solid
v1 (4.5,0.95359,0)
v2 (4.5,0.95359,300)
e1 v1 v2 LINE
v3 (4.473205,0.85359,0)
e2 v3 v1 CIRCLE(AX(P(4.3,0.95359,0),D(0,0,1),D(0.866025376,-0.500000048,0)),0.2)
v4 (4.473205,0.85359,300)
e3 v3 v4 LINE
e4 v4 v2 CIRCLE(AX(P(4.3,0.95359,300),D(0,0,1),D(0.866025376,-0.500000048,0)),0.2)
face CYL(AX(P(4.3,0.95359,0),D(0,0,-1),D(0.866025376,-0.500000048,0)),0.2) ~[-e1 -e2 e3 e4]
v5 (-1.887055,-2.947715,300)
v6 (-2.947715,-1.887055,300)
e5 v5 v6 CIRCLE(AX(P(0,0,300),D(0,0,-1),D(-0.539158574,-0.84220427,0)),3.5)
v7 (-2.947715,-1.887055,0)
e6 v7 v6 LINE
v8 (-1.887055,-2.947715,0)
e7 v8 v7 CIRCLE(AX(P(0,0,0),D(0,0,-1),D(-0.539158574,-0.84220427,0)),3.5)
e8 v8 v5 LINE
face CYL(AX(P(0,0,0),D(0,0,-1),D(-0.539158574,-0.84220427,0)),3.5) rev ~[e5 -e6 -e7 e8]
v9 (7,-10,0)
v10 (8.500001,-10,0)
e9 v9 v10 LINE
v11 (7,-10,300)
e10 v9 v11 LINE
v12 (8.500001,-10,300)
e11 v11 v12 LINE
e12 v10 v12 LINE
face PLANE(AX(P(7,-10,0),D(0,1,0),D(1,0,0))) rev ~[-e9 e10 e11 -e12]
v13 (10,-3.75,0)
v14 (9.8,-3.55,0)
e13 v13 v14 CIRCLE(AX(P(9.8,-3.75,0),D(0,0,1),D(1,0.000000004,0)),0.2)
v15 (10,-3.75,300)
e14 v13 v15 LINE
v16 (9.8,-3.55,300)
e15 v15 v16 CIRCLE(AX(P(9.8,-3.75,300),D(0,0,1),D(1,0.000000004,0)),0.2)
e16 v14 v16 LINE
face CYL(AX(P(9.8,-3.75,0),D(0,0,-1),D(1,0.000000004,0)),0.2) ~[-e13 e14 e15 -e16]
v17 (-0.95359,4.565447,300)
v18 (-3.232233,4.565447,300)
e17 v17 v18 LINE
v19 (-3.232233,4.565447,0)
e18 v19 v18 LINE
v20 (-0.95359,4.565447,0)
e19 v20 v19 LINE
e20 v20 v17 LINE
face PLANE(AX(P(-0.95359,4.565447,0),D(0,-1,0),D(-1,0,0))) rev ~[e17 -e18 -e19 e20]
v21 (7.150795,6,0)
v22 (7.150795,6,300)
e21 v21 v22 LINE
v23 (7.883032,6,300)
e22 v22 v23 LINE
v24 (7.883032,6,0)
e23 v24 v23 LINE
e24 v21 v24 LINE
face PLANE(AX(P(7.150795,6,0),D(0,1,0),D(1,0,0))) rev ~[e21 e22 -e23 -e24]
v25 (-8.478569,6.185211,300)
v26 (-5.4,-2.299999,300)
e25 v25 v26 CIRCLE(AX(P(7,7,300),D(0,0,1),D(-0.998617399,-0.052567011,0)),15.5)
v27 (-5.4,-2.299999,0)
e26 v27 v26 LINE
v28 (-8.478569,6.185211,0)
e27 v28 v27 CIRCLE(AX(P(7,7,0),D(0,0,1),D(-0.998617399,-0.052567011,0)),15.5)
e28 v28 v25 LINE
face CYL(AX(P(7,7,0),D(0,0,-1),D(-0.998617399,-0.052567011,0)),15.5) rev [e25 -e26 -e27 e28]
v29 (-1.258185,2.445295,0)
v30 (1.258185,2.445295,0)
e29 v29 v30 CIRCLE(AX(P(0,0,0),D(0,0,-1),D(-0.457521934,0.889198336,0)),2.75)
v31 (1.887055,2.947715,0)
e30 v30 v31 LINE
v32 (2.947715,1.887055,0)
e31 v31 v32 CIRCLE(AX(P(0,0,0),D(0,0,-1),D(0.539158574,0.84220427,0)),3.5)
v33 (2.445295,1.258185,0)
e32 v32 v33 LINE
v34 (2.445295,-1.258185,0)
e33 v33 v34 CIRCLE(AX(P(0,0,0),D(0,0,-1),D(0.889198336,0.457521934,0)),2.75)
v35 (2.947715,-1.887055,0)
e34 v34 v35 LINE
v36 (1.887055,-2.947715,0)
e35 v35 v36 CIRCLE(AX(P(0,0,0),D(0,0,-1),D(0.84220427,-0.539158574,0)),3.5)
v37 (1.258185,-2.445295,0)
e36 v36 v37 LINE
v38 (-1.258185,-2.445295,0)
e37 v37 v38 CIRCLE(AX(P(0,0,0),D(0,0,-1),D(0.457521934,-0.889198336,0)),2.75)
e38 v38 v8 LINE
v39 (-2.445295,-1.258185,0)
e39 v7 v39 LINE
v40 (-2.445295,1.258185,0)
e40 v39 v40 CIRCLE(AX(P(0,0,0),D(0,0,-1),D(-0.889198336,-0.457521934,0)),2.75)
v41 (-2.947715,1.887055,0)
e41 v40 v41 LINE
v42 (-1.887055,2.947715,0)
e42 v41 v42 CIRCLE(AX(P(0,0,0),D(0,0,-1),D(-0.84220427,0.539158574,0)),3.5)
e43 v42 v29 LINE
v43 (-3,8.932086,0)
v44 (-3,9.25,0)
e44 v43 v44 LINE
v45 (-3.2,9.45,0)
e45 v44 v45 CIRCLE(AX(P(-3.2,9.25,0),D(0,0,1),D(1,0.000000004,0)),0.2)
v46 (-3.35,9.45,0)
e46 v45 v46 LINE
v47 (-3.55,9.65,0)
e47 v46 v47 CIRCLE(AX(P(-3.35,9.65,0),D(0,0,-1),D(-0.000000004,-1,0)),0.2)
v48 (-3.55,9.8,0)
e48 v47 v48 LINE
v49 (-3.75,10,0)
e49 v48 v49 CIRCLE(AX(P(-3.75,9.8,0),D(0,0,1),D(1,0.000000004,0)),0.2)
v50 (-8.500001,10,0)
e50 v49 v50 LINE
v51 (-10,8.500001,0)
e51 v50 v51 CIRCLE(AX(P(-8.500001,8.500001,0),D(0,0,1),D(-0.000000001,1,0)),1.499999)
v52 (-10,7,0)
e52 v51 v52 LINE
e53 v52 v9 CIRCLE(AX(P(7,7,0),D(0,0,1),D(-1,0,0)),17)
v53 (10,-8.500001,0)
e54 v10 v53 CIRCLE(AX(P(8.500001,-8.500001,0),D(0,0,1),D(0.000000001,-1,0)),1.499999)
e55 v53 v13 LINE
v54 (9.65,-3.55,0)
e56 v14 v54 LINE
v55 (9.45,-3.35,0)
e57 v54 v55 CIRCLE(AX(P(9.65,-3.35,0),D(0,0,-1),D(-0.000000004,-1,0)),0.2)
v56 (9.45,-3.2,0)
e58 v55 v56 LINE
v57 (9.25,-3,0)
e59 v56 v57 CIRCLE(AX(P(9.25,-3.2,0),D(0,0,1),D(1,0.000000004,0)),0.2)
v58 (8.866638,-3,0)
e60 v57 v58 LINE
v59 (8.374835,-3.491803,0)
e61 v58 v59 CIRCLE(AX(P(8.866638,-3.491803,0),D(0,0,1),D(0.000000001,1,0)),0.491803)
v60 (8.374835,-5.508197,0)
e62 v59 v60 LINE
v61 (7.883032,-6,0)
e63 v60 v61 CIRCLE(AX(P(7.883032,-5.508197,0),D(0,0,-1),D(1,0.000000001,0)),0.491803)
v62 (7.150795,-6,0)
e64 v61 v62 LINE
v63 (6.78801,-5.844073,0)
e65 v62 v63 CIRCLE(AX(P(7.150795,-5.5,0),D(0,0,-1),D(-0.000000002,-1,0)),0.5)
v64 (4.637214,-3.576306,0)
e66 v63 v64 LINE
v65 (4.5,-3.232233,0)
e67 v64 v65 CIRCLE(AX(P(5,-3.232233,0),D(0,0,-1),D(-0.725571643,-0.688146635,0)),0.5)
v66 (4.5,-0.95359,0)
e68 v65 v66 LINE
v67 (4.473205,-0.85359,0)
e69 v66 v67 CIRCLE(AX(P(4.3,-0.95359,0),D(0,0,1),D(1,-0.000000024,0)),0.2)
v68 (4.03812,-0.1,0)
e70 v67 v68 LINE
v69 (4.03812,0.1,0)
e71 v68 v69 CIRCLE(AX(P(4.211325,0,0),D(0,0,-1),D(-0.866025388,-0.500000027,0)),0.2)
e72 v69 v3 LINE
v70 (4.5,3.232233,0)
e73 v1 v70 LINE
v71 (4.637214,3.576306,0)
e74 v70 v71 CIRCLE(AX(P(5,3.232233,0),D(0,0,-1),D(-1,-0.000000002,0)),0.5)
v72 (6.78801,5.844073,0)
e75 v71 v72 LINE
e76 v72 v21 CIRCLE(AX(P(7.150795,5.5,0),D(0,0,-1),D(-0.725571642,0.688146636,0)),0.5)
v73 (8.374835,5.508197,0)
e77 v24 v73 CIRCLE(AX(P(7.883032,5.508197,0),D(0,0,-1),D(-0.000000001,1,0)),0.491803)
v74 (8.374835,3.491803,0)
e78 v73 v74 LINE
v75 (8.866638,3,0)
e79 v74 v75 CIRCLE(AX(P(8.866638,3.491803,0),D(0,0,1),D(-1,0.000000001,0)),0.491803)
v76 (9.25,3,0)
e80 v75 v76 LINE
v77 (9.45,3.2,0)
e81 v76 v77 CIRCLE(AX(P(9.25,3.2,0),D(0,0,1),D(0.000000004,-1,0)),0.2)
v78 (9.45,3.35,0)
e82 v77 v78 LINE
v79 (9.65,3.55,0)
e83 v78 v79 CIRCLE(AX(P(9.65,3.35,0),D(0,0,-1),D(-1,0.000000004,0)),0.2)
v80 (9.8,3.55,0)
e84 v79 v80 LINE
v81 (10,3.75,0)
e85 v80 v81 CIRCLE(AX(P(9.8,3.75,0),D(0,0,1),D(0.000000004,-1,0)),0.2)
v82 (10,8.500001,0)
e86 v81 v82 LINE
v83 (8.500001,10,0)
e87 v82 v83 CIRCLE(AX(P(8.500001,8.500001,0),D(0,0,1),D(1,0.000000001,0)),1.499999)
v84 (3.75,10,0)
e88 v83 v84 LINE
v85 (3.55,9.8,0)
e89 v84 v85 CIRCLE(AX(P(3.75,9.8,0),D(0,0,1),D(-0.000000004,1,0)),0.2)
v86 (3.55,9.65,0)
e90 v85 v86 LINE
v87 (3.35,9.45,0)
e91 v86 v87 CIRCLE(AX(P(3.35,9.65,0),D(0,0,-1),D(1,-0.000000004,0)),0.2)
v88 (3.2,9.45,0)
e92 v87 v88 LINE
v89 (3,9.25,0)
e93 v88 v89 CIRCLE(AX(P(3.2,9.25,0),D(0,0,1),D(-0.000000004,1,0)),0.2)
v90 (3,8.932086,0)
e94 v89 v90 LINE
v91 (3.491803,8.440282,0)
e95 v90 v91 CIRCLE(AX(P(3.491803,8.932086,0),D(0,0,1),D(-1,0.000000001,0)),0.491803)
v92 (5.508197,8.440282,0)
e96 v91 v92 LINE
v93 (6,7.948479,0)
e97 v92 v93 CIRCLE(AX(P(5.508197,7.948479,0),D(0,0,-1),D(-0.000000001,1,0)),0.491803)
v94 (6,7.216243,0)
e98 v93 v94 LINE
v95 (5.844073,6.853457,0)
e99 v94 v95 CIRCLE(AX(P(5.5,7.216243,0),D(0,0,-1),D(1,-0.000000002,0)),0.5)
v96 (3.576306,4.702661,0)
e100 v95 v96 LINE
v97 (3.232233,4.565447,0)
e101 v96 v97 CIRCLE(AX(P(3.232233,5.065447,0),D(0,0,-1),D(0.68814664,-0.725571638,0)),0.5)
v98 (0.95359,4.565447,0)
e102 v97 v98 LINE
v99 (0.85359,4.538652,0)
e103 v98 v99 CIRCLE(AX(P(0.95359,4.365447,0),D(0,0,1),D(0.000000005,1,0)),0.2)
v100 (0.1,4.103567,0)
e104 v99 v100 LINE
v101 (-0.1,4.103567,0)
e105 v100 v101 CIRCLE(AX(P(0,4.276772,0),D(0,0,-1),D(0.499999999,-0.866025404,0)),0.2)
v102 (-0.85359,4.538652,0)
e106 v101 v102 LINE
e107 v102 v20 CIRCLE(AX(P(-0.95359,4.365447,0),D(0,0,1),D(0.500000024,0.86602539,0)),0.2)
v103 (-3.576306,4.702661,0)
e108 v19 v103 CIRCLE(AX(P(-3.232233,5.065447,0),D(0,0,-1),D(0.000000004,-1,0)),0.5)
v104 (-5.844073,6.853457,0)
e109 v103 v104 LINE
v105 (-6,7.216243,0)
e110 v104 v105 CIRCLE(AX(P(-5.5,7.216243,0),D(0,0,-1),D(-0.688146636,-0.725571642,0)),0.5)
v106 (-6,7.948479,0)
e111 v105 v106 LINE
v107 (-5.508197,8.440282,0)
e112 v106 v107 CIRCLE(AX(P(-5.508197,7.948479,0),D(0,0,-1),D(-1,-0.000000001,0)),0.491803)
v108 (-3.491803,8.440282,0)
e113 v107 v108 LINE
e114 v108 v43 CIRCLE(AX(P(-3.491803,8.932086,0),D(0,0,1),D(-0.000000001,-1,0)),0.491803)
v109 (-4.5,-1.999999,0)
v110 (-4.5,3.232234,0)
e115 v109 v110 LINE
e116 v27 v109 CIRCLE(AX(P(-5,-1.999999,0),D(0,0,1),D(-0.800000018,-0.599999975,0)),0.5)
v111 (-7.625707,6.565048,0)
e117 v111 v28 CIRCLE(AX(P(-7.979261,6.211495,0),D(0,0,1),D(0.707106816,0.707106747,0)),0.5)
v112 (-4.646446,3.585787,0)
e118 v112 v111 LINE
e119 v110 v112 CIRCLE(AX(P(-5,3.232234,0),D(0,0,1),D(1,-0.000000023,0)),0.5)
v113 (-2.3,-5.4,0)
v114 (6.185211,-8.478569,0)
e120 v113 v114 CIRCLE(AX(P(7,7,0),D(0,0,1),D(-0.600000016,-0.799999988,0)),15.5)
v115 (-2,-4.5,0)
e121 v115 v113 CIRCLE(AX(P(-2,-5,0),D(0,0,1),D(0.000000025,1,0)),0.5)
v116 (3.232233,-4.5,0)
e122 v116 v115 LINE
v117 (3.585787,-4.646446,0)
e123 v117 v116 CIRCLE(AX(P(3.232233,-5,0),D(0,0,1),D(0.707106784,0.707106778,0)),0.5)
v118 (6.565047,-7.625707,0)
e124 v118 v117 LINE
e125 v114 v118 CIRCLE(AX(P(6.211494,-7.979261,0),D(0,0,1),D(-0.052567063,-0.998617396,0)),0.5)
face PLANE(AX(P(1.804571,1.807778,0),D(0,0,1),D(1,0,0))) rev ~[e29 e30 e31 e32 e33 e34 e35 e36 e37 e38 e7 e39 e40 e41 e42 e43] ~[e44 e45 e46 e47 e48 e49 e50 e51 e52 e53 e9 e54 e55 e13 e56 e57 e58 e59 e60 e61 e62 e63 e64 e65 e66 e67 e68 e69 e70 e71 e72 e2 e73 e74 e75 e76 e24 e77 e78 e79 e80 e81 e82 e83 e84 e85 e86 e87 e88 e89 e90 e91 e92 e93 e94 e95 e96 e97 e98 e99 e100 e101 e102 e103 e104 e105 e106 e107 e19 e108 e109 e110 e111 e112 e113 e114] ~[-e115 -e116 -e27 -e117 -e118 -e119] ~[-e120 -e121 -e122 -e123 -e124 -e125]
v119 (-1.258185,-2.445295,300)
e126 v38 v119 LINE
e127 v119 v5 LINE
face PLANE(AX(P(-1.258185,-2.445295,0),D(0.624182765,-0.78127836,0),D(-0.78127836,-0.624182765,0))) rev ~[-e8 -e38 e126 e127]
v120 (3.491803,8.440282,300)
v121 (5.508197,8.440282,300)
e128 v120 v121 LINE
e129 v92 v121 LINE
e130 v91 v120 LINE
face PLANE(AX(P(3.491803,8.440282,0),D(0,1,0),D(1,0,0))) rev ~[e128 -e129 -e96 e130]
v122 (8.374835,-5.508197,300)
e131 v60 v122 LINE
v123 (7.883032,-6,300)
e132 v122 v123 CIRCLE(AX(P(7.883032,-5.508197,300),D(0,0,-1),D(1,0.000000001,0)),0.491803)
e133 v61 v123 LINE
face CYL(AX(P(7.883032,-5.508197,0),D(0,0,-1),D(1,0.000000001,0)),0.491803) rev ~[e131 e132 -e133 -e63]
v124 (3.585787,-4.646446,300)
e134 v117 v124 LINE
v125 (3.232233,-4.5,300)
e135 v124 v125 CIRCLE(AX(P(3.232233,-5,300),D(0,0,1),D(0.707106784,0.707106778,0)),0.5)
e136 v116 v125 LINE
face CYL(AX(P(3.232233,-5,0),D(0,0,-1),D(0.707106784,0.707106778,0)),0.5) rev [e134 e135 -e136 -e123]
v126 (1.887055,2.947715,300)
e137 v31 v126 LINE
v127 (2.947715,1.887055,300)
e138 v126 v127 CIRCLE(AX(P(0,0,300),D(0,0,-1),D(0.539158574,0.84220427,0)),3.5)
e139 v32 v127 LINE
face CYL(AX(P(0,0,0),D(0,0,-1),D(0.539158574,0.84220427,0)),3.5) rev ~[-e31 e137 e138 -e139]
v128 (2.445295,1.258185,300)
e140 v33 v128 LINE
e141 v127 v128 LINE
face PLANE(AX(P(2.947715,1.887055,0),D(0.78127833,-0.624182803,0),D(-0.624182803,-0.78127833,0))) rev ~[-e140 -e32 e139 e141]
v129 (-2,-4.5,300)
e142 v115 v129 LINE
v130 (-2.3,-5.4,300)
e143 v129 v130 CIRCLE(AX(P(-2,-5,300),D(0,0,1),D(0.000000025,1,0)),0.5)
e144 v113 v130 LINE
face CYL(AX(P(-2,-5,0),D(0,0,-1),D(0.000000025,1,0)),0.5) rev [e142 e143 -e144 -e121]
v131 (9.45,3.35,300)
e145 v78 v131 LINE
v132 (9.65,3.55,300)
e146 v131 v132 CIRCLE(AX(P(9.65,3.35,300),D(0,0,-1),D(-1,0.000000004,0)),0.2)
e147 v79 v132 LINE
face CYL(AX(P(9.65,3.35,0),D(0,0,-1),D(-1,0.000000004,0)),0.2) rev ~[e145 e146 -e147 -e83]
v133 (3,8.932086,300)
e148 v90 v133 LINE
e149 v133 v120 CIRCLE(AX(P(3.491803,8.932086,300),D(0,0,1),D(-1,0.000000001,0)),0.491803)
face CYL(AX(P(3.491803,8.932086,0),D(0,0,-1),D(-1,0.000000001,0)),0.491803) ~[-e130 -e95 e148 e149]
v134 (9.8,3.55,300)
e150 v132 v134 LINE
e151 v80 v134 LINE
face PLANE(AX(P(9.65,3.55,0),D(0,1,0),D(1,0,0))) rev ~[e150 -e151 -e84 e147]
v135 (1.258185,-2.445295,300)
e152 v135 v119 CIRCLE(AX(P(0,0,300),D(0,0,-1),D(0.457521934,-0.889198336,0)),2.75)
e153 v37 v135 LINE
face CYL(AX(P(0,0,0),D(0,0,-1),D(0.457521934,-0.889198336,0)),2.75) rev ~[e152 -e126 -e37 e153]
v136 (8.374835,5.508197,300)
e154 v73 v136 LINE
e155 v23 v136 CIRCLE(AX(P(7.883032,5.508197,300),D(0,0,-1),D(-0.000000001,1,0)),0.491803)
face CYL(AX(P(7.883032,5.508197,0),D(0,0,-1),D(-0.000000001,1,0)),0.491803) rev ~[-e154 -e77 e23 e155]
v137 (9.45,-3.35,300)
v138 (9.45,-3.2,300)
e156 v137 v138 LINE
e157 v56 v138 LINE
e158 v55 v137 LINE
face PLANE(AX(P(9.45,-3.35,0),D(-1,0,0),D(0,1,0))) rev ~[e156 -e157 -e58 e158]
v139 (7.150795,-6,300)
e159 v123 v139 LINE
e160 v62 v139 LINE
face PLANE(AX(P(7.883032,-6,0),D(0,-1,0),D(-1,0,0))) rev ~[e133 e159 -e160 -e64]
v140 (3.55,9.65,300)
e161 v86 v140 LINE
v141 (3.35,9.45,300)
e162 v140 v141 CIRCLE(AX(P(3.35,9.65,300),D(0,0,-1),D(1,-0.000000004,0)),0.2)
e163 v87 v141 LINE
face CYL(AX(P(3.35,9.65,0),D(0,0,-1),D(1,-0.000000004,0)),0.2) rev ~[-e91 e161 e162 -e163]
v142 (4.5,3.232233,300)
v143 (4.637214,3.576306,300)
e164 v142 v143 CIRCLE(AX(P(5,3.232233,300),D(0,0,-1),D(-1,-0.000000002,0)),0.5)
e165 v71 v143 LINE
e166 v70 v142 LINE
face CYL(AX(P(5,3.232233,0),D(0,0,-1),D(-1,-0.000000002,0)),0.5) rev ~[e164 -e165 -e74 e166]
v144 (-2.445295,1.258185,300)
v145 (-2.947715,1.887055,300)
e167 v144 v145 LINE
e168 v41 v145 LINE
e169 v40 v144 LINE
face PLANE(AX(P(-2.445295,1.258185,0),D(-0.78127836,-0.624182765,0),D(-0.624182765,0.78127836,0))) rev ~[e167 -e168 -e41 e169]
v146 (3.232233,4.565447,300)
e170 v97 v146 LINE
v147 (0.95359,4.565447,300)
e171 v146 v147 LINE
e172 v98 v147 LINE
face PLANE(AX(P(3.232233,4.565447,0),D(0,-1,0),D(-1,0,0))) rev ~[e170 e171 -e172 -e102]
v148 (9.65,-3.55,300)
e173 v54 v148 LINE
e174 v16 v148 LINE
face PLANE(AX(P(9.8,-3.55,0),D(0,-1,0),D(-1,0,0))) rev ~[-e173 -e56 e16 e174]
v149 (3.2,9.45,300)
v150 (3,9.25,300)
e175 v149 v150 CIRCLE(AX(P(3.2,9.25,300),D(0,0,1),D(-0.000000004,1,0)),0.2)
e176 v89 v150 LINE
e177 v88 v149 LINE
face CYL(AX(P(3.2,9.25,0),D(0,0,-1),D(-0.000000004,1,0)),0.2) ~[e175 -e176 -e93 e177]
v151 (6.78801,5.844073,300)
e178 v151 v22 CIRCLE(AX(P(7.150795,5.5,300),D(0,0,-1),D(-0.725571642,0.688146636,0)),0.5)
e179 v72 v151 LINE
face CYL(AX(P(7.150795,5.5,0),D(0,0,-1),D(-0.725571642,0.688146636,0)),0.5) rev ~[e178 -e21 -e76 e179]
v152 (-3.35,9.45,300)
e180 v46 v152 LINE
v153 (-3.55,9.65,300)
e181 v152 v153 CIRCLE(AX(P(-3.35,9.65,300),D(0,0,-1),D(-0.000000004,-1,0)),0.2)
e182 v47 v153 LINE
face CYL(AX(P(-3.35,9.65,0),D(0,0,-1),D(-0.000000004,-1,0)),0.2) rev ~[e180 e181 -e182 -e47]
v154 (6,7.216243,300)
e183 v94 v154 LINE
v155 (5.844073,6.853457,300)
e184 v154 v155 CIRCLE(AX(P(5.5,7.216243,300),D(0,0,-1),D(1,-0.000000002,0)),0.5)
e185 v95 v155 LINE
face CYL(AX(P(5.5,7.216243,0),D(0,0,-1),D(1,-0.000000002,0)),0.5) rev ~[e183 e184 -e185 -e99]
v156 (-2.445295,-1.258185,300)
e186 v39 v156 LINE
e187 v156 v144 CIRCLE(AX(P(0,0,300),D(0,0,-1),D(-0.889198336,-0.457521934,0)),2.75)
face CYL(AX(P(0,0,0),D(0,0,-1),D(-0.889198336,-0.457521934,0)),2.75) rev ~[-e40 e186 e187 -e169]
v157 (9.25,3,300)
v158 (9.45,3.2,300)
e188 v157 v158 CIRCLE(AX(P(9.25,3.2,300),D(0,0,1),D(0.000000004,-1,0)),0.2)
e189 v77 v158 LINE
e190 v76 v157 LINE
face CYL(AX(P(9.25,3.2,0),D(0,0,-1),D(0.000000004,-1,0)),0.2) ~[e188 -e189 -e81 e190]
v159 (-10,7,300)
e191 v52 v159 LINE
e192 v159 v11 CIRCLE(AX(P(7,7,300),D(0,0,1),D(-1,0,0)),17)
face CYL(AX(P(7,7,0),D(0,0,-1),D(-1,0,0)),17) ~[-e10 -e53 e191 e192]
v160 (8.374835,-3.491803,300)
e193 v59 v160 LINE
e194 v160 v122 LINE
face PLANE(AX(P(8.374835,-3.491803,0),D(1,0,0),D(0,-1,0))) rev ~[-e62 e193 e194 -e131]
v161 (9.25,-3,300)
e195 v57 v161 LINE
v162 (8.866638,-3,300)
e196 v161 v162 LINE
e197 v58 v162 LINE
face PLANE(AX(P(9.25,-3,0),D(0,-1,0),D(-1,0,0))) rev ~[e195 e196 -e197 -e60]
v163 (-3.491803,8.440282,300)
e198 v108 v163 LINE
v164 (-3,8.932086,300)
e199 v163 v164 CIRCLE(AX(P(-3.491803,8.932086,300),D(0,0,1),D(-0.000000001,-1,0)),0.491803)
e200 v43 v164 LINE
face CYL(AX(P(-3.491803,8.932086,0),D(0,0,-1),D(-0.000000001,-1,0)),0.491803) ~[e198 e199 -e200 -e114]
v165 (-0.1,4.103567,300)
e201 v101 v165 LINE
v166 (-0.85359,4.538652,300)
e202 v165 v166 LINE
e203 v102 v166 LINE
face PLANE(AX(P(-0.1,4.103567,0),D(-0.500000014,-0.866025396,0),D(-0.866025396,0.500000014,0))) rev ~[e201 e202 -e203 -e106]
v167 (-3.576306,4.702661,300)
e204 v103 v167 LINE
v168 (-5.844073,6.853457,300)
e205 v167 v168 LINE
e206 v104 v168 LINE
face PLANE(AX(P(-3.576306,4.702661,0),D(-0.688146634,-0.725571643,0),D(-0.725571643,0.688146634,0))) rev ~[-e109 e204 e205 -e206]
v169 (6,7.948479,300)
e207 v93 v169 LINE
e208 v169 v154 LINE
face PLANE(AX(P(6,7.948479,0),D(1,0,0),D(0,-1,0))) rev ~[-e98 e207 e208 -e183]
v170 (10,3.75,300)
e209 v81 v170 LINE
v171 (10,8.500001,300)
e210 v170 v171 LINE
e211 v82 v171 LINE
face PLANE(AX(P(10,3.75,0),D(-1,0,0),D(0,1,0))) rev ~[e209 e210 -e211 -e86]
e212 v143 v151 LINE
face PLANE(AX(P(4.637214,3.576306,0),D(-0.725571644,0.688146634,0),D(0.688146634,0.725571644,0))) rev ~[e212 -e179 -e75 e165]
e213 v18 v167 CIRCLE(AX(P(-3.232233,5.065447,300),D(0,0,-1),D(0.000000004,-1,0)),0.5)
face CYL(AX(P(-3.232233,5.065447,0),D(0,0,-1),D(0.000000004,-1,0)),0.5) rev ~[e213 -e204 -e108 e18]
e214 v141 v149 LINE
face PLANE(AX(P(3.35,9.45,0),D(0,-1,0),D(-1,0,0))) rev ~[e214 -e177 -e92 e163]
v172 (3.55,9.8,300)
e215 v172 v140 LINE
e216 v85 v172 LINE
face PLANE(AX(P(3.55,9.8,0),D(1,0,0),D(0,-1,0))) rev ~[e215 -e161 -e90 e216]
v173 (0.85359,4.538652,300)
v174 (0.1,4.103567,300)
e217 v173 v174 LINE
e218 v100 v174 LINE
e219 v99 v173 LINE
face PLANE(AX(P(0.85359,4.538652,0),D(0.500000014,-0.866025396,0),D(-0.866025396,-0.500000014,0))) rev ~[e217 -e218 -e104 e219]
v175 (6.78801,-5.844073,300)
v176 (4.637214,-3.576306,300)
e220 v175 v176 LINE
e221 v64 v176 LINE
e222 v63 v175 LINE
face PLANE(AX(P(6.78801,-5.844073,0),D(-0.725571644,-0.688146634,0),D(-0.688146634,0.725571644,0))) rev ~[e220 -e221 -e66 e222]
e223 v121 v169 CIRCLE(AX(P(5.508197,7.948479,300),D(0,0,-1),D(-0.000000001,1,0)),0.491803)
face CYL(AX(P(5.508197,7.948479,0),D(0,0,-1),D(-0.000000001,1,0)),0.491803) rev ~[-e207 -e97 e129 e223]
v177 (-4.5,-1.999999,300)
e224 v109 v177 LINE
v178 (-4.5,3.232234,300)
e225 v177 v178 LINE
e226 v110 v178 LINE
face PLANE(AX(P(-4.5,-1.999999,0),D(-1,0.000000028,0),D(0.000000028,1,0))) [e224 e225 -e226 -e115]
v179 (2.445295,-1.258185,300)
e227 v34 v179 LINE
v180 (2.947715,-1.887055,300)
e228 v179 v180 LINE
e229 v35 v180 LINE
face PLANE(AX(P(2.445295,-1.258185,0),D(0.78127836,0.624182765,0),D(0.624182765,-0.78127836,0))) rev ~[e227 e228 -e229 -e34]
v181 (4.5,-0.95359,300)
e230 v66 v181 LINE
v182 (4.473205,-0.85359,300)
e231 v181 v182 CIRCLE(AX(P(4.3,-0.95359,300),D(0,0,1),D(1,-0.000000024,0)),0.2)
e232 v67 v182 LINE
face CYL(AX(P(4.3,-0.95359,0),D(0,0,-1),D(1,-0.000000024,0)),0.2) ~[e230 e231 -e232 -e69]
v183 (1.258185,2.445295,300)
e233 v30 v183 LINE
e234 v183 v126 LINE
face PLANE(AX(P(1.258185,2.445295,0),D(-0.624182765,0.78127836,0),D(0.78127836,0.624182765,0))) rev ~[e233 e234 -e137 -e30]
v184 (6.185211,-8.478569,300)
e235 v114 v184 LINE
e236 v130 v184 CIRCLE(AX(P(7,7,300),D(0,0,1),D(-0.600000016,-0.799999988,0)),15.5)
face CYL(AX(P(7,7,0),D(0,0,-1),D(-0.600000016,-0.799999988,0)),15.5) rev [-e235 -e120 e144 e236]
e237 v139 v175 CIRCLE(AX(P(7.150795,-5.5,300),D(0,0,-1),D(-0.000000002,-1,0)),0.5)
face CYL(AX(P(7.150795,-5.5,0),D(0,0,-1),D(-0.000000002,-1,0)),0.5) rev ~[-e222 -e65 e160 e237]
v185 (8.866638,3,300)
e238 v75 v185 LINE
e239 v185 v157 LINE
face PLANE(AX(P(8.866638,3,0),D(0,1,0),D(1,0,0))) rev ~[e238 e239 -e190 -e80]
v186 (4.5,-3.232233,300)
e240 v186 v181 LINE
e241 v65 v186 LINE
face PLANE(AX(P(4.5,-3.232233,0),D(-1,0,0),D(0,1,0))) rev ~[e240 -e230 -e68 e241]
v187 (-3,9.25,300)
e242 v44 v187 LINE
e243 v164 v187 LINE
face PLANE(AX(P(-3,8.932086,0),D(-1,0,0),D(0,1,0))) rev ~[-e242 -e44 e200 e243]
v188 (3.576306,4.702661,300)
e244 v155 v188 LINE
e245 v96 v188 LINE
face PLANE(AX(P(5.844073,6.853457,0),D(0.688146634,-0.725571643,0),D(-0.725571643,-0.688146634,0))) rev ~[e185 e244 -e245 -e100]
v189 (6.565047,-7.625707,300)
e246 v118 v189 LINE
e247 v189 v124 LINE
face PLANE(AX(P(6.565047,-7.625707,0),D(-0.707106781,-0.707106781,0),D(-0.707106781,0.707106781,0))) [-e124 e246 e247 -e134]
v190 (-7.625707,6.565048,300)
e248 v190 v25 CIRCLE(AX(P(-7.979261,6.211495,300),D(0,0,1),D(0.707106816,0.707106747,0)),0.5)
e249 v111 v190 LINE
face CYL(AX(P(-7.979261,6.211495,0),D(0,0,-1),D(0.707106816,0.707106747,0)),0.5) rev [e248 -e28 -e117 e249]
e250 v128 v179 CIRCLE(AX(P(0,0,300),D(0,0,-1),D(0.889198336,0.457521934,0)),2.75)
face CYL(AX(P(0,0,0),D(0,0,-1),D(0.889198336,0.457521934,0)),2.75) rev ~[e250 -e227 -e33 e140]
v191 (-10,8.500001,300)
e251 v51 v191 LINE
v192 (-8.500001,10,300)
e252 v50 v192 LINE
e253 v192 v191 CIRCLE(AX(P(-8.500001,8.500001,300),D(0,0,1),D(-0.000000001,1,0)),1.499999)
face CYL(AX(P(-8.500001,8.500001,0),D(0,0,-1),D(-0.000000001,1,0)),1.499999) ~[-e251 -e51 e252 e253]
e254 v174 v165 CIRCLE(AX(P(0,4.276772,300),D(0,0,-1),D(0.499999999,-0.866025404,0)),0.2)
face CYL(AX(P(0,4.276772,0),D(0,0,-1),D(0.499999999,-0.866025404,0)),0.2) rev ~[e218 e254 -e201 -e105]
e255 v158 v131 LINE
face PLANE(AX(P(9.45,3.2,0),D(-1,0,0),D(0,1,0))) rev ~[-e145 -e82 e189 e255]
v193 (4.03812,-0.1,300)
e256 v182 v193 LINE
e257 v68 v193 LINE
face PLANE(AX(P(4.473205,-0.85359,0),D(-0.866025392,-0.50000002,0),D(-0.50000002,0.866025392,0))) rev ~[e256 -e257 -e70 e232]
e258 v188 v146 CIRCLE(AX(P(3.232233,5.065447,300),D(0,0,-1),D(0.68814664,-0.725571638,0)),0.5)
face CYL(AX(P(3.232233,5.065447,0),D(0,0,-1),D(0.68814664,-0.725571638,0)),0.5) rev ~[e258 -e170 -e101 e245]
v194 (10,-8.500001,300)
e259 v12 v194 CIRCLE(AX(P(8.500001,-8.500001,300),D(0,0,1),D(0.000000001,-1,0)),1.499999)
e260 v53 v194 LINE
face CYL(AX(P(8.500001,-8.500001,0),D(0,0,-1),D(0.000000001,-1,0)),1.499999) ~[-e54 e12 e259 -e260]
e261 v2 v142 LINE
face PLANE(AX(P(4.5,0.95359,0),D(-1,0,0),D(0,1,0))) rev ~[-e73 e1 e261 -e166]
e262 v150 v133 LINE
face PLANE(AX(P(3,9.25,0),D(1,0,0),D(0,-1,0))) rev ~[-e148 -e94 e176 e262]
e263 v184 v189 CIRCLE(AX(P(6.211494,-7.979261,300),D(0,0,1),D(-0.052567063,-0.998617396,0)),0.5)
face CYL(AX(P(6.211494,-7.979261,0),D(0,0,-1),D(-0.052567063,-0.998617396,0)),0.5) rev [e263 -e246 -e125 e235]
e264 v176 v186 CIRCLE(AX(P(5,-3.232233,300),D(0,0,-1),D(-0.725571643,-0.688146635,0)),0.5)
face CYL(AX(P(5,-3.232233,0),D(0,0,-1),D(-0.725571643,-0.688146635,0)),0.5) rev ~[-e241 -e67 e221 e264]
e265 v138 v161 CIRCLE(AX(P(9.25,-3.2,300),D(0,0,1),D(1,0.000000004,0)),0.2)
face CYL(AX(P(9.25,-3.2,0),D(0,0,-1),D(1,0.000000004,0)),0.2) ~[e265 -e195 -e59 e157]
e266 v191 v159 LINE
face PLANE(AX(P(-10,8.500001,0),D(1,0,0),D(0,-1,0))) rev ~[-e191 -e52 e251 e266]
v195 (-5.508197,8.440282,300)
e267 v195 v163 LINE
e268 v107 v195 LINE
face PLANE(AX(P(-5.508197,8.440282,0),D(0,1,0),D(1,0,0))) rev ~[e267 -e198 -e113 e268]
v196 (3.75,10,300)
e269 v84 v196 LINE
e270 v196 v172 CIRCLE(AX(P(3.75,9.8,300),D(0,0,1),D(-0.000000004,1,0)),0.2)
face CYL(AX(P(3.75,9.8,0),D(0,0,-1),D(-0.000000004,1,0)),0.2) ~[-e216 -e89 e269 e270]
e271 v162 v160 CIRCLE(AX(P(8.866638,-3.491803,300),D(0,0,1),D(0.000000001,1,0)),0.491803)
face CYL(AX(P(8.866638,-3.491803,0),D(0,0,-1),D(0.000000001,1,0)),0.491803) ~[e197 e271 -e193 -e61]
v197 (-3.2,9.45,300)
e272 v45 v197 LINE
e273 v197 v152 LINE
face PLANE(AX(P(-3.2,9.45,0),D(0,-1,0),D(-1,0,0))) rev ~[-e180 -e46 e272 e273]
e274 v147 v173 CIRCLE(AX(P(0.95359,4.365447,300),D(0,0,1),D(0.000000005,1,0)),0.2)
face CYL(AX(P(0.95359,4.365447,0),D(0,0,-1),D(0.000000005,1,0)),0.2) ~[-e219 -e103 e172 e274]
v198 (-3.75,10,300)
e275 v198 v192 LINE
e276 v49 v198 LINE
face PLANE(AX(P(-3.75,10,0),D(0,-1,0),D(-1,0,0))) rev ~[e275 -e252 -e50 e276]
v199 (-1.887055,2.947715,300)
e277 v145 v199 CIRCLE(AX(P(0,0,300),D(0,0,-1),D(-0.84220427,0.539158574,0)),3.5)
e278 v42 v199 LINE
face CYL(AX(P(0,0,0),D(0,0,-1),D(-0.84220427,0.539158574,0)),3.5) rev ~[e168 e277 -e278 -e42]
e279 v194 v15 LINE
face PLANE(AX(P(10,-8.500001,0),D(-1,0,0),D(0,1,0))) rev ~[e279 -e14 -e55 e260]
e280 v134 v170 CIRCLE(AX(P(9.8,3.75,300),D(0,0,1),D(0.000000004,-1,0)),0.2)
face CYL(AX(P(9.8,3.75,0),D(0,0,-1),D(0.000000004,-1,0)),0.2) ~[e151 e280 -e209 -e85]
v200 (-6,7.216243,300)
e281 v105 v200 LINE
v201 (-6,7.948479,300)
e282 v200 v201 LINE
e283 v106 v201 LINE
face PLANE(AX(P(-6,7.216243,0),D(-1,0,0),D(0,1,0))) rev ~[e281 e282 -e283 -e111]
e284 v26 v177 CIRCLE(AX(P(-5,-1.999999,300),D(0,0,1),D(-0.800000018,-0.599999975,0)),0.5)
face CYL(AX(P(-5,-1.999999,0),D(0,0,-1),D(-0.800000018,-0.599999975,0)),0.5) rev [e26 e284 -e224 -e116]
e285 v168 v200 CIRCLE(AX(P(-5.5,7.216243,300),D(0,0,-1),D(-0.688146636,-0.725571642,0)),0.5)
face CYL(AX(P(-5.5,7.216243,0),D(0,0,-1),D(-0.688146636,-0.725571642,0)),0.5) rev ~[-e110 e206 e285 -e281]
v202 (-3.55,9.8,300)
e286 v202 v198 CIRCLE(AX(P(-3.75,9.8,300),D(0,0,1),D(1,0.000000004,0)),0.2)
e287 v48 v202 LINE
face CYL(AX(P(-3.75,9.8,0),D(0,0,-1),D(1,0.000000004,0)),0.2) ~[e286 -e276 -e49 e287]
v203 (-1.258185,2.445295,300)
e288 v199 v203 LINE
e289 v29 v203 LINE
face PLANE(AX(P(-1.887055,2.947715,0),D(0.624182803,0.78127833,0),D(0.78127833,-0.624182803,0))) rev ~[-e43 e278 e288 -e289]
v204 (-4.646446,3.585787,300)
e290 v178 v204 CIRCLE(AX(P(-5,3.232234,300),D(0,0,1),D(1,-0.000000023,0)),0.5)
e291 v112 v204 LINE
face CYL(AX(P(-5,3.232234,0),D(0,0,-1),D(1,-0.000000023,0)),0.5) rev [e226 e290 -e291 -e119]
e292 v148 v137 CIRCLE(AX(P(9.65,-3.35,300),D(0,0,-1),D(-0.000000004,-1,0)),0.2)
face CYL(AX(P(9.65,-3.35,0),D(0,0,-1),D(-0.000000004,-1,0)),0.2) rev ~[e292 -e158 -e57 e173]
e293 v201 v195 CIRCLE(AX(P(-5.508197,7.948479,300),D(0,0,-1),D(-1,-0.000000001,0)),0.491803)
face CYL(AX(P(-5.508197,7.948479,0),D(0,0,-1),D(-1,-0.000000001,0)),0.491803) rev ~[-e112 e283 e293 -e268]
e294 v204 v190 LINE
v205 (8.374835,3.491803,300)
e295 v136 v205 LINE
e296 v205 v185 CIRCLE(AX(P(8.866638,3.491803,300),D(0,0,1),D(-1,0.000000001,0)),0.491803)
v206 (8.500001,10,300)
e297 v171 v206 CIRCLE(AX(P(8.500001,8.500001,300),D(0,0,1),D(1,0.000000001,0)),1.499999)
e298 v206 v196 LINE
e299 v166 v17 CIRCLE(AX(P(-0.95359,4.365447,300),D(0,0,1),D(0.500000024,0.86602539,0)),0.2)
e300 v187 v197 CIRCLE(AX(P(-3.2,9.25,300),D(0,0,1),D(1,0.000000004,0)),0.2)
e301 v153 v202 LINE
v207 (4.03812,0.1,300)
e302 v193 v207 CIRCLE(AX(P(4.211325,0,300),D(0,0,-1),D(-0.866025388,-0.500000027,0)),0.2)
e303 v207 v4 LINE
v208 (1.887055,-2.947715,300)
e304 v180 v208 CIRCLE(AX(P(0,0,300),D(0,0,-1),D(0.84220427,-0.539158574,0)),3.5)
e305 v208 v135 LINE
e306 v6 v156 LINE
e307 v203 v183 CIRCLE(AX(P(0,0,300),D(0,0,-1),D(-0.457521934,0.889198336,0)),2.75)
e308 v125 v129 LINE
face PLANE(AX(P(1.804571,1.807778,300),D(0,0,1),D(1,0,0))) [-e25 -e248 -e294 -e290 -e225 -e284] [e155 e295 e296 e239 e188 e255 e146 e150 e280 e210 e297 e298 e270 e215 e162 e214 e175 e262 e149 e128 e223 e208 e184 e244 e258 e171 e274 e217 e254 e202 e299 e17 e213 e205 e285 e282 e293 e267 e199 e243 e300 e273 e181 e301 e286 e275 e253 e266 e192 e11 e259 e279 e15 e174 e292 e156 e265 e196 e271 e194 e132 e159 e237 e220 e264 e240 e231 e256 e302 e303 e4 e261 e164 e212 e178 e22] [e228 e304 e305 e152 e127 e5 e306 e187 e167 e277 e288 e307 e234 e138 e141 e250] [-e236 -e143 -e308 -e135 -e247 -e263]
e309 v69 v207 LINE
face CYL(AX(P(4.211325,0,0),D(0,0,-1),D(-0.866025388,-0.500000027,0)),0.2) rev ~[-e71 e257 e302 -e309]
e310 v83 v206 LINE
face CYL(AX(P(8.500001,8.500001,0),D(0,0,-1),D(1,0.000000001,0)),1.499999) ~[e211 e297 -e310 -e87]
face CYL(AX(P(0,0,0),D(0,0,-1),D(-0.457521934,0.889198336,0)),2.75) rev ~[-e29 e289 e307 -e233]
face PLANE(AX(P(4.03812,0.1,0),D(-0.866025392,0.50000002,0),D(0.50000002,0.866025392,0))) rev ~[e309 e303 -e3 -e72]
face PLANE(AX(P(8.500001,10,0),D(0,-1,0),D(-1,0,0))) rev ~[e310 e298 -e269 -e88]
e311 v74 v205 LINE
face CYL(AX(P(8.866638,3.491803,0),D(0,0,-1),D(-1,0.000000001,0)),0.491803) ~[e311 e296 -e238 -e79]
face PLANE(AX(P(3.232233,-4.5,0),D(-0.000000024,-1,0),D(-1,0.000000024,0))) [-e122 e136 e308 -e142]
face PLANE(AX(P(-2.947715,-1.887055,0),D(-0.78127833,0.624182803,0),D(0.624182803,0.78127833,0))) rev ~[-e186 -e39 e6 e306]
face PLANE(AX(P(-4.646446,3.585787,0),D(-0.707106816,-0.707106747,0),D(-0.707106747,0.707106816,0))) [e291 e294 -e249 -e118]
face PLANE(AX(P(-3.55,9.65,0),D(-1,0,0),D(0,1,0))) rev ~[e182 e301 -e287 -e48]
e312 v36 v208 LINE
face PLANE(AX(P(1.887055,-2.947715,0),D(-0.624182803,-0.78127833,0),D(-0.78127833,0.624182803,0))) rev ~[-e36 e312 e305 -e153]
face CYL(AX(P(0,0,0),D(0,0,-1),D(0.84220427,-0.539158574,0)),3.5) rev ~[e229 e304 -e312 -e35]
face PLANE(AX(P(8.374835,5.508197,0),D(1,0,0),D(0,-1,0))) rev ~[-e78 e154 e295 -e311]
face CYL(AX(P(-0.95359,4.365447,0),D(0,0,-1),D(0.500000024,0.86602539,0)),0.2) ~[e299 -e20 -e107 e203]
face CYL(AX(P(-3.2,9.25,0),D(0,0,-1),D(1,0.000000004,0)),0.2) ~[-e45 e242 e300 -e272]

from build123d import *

# Parameters (mm, degrees)
EXTRUDE1_DEPTH = 300


with BuildPart() as part:
    # Sketch1 → Extrude1 (new body)
    with BuildSketch(Plane.XY):
        with BuildLine():
            Line((3.232233116, 4.565447254), (0.953589838, 4.565447254))
            ThreePointArc((0.953589838, 4.565447254), (0.901826028, 4.558632419), (0.853589836, 4.538652333))
            Line((0.853589836, 4.538652333), (0.100000003, 4.103567024))
            ThreePointArc((0.100000003, 4.103567024), (0, 4.076772104), (-0.100000003, 4.103567024))
            Line((-0.100000003, 4.103567024), (-0.853589836, 4.538652333))
            ThreePointArc((-0.853589836, 4.538652333), (-0.901826028, 4.558632419), (-0.953589838, 4.565447254))
            Line((-0.953589838, 4.565447254), (-3.232233116, 4.565447254))
            ThreePointArc((-3.232233116, 4.565447254), (-3.417445277, 4.601015929), (-3.576306433, 4.702661433))
            Line((-3.576306433, 4.702661433), (-5.844073317, 6.853456827))
            ThreePointArc((-5.844073317, 6.853456827), (-5.959367314, 7.018804885), (-6, 7.216242649))
            Line((-6, 7.216242649), (-6, 7.948478858))
            ThreePointArc((-6, 7.948478858), (-5.855954134, 8.296236342), (-5.50819665, 8.440282208))
            Line((-5.50819665, 8.440282208), (-3.49180335, 8.440282208))
            ThreePointArc((-3.49180335, 8.440282208), (-3.144045866, 8.584328074), (-3, 8.932085558))
            Line((-3, 8.932085558), (-3, 9.249999634))
            ThreePointArc((-3, 9.249999634), (-3.058578644, 9.39142099), (-3.2, 9.449999634))
            Line((-3.2, 9.449999634), (-3.350000366, 9.449999634))
            ThreePointArc((-3.350000366, 9.449999634), (-3.491421722, 9.508578278), (-3.550000366, 9.649999634))
            Line((-3.550000366, 9.649999634), (-3.550000366, 9.8))
            ThreePointArc((-3.550000366, 9.8), (-3.60857901, 9.941421356), (-3.750000366, 10))
            Line((-3.750000366, 10), (-8.50000115, 10))
            ThreePointArc((-8.50000115, 10), (-9.560660508, 9.560660508), (-10, 8.50000115))
            Line((-10, 8.50000115), (-10, 7))
            ThreePointArc((-10, 7), (-5.02081528, -5.02081528), (7, -10))
            Line((7, -10), (8.50000115, -10))
            ThreePointArc((8.50000115, -10), (9.560660508, -9.560660508), (10, -8.50000115))
            Line((10, -8.50000115), (10, -3.750000366))
            ThreePointArc((10, -3.750000366), (9.941421356, -3.60857901), (9.8, -3.550000366))
            Line((9.8, -3.550000366), (9.649999634, -3.550000366))
            ThreePointArc((9.649999634, -3.550000366), (9.508578278, -3.491421722), (9.449999634, -3.350000366))
            Line((9.449999634, -3.350000366), (9.449999634, -3.2))
            ThreePointArc((9.449999634, -3.2), (9.39142099, -3.058578644), (9.249999634, -3))
            Line((9.249999634, -3), (8.866638303, -3))
            ThreePointArc((8.866638303, -3), (8.518880819, -3.144045866), (8.374834953, -3.49180335))
            Line((8.374834953, -3.49180335), (8.374834953, -5.50819665))
            ThreePointArc((8.374834953, -5.50819665), (8.230789087, -5.855954134), (7.883031603, -6))
            Line((7.883031603, -6), (7.150795394, -6))
            ThreePointArc((7.150795394, -6), (6.95335763, -5.959367314), (6.788009572, -5.844073317))
            Line((6.788009572, -5.844073317), (4.637214178, -3.576306432))
            ThreePointArc((4.637214178, -3.576306432), (4.535568675, -3.417445276), (4.5, -3.232233115))
            Line((4.5, -3.232233115), (4.5, -0.953589838))
            ThreePointArc((4.5, -0.953589838), (4.493185165, -0.901826026), (4.473205078, -0.853589834))
            Line((4.473205078, -0.853589834), (4.038119764, -0.100000004))
            ThreePointArc((4.038119764, -0.100000004), (4.011324842, 0), (4.038119764, 0.100000004))
            Line((4.038119764, 0.100000004), (4.473205078, 0.853589834))
            ThreePointArc((4.473205078, 0.853589834), (4.493185165, 0.901826026), (4.5, 0.953589838))
            Line((4.5, 0.953589838), (4.5, 3.232233115))
            ThreePointArc((4.5, 3.232233115), (4.535568675, 3.417445276), (4.637214178, 3.576306432))
            Line((4.637214178, 3.576306432), (6.788009572, 5.844073317))
            ThreePointArc((6.788009572, 5.844073317), (6.95335763, 5.959367314), (7.150795394, 6))
            Line((7.150795394, 6), (7.883031603, 6))
            ThreePointArc((7.883031603, 6), (8.230789087, 5.855954134), (8.374834953, 5.50819665))
            Line((8.374834953, 5.50819665), (8.374834953, 3.49180335))
            ThreePointArc((8.374834953, 3.49180335), (8.518880819, 3.144045866), (8.866638303, 3))
            Line((8.866638303, 3), (9.249999634, 3))
            ThreePointArc((9.249999634, 3), (9.39142099, 3.058578644), (9.449999634, 3.2))
            Line((9.449999634, 3.2), (9.449999634, 3.350000366))
            ThreePointArc((9.449999634, 3.350000366), (9.508578278, 3.491421722), (9.649999634, 3.550000366))
            Line((9.649999634, 3.550000366), (9.8, 3.550000366))
            ThreePointArc((9.8, 3.550000366), (9.941421356, 3.60857901), (10, 3.750000366))
            Line((10, 3.750000366), (10, 8.50000115))
            ThreePointArc((10, 8.50000115), (9.560660508, 9.560660508), (8.50000115, 10))
            Line((8.50000115, 10), (3.750000366, 10))
            ThreePointArc((3.750000366, 10), (3.60857901, 9.941421356), (3.550000366, 9.8))
            Line((3.550000366, 9.8), (3.550000366, 9.649999634))
            ThreePointArc((3.550000366, 9.649999634), (3.491421722, 9.508578278), (3.350000366, 9.449999634))
            Line((3.350000366, 9.449999634), (3.2, 9.449999634))
            ThreePointArc((3.2, 9.449999634), (3.058578644, 9.39142099), (3, 9.249999634))
            Line((3, 9.249999634), (3, 8.932085558))
            ThreePointArc((3, 8.932085558), (3.144045866, 8.584328074), (3.49180335, 8.440282208))
            Line((3.49180335, 8.440282208), (5.50819665, 8.440282208))
            ThreePointArc((5.50819665, 8.440282208), (5.855954134, 8.296236342), (6, 7.948478858))
            Line((6, 7.948478858), (6, 7.216242649))
            ThreePointArc((6, 7.216242649), (5.959367314, 7.018804885), (5.844073317, 6.853456827))
            Line((5.844073317, 6.853456827), (3.576306433, 4.702661433))
            ThreePointArc((3.576306433, 4.702661433), (3.417445277, 4.601015929), (3.232233116, 4.565447254))
        make_face()
        with BuildLine():
            Line((1.258185436, 2.445295362), (1.887055008, 2.947714945))
            ThreePointArc((1.887055008, 2.947714945), (2.474873794, 2.474873674), (2.947715037, 1.887054865))
            Line((2.947715037, 1.887054865), (2.445295423, 1.258185317))
            ThreePointArc((2.445295423, 1.258185317), (2.75, -6.7e-08), (2.445295362, -1.258185436))
            Line((2.445295362, -1.258185436), (2.947714945, -1.887055008))
            ThreePointArc((2.947714945, -1.887055008), (2.474873674, -2.474873794), (1.887054865, -2.947715037))
            Line((1.887054865, -2.947715037), (1.258185317, -2.445295423))
            ThreePointArc((1.258185317, -2.445295423), (-6.7e-08, -2.75), (-1.258185436, -2.445295362))
            Line((-1.258185436, -2.445295362), (-1.887055008, -2.947714945))
            ThreePointArc((-1.887055008, -2.947714945), (-2.474873794, -2.474873674), (-2.947715037, -1.887054865))
            Line((-2.947715037, -1.887054865), (-2.445295423, -1.258185317))
            ThreePointArc((-2.445295423, -1.258185317), (-2.75, 6.7e-08), (-2.445295362, 1.258185436))
            Line((-2.445295362, 1.258185436), (-2.947714945, 1.887055008))
            ThreePointArc((-2.947714945, 1.887055008), (-2.474873674, 2.474873794), (-1.887054865, 2.947715037))
            Line((-1.887054865, 2.947715037), (-1.258185317, 2.445295423))
            ThreePointArc((-1.258185317, 2.445295423), (6.7e-08, 2.75), (1.258185436, 2.445295362))
        make_face(mode=Mode.SUBTRACT)
        with BuildLine():
            Line((3.232233163, -4.499999714), (-2.000000051, -4.499999587))
            ThreePointArc((-2.000000051, -4.499999587), (-2.474341709, -4.841885693), (-2.300000072, -5.399999581))
            ThreePointArc((-2.300000072, -5.399999581), (1.713541858, -7.57063318), (6.185210557, -8.478569349))
            ThreePointArc((6.185210557, -8.478569349), (6.668243282, -8.182681825), (6.565047479, -7.625707261))
            Line((6.565047479, -7.625707261), (3.585786542, -4.646446324))
            ThreePointArc((3.585786542, -4.646446324), (3.423574873, -4.53805995), (3.232233163, -4.499999714))
        make_face(mode=Mode.SUBTRACT)
        with BuildLine():
            Line((-4.646446492, 3.585787135), (-7.625707283, 6.565048217))
            ThreePointArc((-7.625707283, 6.565048217), (-8.182681843, 6.668244047), (-8.47856939, 6.185211338))
            ThreePointArc((-8.47856939, 6.185211338), (-7.570633447, 1.713542596), (-5.400000054, -2.299999441))
            ThreePointArc((-5.400000054, -2.299999441), (-4.841886176, -2.474341107), (-4.500000045, -1.999999467))
            Line((-4.500000045, -1.999999467), (-4.499999899, 3.232233748))
            ThreePointArc((-4.499999899, 3.232233748), (-4.538060126, 3.42357546), (-4.646446492, 3.585787135))
        make_face(mode=Mode.SUBTRACT)
    extrude(amount=EXTRUDE1_DEPTH)


solid = part.part
